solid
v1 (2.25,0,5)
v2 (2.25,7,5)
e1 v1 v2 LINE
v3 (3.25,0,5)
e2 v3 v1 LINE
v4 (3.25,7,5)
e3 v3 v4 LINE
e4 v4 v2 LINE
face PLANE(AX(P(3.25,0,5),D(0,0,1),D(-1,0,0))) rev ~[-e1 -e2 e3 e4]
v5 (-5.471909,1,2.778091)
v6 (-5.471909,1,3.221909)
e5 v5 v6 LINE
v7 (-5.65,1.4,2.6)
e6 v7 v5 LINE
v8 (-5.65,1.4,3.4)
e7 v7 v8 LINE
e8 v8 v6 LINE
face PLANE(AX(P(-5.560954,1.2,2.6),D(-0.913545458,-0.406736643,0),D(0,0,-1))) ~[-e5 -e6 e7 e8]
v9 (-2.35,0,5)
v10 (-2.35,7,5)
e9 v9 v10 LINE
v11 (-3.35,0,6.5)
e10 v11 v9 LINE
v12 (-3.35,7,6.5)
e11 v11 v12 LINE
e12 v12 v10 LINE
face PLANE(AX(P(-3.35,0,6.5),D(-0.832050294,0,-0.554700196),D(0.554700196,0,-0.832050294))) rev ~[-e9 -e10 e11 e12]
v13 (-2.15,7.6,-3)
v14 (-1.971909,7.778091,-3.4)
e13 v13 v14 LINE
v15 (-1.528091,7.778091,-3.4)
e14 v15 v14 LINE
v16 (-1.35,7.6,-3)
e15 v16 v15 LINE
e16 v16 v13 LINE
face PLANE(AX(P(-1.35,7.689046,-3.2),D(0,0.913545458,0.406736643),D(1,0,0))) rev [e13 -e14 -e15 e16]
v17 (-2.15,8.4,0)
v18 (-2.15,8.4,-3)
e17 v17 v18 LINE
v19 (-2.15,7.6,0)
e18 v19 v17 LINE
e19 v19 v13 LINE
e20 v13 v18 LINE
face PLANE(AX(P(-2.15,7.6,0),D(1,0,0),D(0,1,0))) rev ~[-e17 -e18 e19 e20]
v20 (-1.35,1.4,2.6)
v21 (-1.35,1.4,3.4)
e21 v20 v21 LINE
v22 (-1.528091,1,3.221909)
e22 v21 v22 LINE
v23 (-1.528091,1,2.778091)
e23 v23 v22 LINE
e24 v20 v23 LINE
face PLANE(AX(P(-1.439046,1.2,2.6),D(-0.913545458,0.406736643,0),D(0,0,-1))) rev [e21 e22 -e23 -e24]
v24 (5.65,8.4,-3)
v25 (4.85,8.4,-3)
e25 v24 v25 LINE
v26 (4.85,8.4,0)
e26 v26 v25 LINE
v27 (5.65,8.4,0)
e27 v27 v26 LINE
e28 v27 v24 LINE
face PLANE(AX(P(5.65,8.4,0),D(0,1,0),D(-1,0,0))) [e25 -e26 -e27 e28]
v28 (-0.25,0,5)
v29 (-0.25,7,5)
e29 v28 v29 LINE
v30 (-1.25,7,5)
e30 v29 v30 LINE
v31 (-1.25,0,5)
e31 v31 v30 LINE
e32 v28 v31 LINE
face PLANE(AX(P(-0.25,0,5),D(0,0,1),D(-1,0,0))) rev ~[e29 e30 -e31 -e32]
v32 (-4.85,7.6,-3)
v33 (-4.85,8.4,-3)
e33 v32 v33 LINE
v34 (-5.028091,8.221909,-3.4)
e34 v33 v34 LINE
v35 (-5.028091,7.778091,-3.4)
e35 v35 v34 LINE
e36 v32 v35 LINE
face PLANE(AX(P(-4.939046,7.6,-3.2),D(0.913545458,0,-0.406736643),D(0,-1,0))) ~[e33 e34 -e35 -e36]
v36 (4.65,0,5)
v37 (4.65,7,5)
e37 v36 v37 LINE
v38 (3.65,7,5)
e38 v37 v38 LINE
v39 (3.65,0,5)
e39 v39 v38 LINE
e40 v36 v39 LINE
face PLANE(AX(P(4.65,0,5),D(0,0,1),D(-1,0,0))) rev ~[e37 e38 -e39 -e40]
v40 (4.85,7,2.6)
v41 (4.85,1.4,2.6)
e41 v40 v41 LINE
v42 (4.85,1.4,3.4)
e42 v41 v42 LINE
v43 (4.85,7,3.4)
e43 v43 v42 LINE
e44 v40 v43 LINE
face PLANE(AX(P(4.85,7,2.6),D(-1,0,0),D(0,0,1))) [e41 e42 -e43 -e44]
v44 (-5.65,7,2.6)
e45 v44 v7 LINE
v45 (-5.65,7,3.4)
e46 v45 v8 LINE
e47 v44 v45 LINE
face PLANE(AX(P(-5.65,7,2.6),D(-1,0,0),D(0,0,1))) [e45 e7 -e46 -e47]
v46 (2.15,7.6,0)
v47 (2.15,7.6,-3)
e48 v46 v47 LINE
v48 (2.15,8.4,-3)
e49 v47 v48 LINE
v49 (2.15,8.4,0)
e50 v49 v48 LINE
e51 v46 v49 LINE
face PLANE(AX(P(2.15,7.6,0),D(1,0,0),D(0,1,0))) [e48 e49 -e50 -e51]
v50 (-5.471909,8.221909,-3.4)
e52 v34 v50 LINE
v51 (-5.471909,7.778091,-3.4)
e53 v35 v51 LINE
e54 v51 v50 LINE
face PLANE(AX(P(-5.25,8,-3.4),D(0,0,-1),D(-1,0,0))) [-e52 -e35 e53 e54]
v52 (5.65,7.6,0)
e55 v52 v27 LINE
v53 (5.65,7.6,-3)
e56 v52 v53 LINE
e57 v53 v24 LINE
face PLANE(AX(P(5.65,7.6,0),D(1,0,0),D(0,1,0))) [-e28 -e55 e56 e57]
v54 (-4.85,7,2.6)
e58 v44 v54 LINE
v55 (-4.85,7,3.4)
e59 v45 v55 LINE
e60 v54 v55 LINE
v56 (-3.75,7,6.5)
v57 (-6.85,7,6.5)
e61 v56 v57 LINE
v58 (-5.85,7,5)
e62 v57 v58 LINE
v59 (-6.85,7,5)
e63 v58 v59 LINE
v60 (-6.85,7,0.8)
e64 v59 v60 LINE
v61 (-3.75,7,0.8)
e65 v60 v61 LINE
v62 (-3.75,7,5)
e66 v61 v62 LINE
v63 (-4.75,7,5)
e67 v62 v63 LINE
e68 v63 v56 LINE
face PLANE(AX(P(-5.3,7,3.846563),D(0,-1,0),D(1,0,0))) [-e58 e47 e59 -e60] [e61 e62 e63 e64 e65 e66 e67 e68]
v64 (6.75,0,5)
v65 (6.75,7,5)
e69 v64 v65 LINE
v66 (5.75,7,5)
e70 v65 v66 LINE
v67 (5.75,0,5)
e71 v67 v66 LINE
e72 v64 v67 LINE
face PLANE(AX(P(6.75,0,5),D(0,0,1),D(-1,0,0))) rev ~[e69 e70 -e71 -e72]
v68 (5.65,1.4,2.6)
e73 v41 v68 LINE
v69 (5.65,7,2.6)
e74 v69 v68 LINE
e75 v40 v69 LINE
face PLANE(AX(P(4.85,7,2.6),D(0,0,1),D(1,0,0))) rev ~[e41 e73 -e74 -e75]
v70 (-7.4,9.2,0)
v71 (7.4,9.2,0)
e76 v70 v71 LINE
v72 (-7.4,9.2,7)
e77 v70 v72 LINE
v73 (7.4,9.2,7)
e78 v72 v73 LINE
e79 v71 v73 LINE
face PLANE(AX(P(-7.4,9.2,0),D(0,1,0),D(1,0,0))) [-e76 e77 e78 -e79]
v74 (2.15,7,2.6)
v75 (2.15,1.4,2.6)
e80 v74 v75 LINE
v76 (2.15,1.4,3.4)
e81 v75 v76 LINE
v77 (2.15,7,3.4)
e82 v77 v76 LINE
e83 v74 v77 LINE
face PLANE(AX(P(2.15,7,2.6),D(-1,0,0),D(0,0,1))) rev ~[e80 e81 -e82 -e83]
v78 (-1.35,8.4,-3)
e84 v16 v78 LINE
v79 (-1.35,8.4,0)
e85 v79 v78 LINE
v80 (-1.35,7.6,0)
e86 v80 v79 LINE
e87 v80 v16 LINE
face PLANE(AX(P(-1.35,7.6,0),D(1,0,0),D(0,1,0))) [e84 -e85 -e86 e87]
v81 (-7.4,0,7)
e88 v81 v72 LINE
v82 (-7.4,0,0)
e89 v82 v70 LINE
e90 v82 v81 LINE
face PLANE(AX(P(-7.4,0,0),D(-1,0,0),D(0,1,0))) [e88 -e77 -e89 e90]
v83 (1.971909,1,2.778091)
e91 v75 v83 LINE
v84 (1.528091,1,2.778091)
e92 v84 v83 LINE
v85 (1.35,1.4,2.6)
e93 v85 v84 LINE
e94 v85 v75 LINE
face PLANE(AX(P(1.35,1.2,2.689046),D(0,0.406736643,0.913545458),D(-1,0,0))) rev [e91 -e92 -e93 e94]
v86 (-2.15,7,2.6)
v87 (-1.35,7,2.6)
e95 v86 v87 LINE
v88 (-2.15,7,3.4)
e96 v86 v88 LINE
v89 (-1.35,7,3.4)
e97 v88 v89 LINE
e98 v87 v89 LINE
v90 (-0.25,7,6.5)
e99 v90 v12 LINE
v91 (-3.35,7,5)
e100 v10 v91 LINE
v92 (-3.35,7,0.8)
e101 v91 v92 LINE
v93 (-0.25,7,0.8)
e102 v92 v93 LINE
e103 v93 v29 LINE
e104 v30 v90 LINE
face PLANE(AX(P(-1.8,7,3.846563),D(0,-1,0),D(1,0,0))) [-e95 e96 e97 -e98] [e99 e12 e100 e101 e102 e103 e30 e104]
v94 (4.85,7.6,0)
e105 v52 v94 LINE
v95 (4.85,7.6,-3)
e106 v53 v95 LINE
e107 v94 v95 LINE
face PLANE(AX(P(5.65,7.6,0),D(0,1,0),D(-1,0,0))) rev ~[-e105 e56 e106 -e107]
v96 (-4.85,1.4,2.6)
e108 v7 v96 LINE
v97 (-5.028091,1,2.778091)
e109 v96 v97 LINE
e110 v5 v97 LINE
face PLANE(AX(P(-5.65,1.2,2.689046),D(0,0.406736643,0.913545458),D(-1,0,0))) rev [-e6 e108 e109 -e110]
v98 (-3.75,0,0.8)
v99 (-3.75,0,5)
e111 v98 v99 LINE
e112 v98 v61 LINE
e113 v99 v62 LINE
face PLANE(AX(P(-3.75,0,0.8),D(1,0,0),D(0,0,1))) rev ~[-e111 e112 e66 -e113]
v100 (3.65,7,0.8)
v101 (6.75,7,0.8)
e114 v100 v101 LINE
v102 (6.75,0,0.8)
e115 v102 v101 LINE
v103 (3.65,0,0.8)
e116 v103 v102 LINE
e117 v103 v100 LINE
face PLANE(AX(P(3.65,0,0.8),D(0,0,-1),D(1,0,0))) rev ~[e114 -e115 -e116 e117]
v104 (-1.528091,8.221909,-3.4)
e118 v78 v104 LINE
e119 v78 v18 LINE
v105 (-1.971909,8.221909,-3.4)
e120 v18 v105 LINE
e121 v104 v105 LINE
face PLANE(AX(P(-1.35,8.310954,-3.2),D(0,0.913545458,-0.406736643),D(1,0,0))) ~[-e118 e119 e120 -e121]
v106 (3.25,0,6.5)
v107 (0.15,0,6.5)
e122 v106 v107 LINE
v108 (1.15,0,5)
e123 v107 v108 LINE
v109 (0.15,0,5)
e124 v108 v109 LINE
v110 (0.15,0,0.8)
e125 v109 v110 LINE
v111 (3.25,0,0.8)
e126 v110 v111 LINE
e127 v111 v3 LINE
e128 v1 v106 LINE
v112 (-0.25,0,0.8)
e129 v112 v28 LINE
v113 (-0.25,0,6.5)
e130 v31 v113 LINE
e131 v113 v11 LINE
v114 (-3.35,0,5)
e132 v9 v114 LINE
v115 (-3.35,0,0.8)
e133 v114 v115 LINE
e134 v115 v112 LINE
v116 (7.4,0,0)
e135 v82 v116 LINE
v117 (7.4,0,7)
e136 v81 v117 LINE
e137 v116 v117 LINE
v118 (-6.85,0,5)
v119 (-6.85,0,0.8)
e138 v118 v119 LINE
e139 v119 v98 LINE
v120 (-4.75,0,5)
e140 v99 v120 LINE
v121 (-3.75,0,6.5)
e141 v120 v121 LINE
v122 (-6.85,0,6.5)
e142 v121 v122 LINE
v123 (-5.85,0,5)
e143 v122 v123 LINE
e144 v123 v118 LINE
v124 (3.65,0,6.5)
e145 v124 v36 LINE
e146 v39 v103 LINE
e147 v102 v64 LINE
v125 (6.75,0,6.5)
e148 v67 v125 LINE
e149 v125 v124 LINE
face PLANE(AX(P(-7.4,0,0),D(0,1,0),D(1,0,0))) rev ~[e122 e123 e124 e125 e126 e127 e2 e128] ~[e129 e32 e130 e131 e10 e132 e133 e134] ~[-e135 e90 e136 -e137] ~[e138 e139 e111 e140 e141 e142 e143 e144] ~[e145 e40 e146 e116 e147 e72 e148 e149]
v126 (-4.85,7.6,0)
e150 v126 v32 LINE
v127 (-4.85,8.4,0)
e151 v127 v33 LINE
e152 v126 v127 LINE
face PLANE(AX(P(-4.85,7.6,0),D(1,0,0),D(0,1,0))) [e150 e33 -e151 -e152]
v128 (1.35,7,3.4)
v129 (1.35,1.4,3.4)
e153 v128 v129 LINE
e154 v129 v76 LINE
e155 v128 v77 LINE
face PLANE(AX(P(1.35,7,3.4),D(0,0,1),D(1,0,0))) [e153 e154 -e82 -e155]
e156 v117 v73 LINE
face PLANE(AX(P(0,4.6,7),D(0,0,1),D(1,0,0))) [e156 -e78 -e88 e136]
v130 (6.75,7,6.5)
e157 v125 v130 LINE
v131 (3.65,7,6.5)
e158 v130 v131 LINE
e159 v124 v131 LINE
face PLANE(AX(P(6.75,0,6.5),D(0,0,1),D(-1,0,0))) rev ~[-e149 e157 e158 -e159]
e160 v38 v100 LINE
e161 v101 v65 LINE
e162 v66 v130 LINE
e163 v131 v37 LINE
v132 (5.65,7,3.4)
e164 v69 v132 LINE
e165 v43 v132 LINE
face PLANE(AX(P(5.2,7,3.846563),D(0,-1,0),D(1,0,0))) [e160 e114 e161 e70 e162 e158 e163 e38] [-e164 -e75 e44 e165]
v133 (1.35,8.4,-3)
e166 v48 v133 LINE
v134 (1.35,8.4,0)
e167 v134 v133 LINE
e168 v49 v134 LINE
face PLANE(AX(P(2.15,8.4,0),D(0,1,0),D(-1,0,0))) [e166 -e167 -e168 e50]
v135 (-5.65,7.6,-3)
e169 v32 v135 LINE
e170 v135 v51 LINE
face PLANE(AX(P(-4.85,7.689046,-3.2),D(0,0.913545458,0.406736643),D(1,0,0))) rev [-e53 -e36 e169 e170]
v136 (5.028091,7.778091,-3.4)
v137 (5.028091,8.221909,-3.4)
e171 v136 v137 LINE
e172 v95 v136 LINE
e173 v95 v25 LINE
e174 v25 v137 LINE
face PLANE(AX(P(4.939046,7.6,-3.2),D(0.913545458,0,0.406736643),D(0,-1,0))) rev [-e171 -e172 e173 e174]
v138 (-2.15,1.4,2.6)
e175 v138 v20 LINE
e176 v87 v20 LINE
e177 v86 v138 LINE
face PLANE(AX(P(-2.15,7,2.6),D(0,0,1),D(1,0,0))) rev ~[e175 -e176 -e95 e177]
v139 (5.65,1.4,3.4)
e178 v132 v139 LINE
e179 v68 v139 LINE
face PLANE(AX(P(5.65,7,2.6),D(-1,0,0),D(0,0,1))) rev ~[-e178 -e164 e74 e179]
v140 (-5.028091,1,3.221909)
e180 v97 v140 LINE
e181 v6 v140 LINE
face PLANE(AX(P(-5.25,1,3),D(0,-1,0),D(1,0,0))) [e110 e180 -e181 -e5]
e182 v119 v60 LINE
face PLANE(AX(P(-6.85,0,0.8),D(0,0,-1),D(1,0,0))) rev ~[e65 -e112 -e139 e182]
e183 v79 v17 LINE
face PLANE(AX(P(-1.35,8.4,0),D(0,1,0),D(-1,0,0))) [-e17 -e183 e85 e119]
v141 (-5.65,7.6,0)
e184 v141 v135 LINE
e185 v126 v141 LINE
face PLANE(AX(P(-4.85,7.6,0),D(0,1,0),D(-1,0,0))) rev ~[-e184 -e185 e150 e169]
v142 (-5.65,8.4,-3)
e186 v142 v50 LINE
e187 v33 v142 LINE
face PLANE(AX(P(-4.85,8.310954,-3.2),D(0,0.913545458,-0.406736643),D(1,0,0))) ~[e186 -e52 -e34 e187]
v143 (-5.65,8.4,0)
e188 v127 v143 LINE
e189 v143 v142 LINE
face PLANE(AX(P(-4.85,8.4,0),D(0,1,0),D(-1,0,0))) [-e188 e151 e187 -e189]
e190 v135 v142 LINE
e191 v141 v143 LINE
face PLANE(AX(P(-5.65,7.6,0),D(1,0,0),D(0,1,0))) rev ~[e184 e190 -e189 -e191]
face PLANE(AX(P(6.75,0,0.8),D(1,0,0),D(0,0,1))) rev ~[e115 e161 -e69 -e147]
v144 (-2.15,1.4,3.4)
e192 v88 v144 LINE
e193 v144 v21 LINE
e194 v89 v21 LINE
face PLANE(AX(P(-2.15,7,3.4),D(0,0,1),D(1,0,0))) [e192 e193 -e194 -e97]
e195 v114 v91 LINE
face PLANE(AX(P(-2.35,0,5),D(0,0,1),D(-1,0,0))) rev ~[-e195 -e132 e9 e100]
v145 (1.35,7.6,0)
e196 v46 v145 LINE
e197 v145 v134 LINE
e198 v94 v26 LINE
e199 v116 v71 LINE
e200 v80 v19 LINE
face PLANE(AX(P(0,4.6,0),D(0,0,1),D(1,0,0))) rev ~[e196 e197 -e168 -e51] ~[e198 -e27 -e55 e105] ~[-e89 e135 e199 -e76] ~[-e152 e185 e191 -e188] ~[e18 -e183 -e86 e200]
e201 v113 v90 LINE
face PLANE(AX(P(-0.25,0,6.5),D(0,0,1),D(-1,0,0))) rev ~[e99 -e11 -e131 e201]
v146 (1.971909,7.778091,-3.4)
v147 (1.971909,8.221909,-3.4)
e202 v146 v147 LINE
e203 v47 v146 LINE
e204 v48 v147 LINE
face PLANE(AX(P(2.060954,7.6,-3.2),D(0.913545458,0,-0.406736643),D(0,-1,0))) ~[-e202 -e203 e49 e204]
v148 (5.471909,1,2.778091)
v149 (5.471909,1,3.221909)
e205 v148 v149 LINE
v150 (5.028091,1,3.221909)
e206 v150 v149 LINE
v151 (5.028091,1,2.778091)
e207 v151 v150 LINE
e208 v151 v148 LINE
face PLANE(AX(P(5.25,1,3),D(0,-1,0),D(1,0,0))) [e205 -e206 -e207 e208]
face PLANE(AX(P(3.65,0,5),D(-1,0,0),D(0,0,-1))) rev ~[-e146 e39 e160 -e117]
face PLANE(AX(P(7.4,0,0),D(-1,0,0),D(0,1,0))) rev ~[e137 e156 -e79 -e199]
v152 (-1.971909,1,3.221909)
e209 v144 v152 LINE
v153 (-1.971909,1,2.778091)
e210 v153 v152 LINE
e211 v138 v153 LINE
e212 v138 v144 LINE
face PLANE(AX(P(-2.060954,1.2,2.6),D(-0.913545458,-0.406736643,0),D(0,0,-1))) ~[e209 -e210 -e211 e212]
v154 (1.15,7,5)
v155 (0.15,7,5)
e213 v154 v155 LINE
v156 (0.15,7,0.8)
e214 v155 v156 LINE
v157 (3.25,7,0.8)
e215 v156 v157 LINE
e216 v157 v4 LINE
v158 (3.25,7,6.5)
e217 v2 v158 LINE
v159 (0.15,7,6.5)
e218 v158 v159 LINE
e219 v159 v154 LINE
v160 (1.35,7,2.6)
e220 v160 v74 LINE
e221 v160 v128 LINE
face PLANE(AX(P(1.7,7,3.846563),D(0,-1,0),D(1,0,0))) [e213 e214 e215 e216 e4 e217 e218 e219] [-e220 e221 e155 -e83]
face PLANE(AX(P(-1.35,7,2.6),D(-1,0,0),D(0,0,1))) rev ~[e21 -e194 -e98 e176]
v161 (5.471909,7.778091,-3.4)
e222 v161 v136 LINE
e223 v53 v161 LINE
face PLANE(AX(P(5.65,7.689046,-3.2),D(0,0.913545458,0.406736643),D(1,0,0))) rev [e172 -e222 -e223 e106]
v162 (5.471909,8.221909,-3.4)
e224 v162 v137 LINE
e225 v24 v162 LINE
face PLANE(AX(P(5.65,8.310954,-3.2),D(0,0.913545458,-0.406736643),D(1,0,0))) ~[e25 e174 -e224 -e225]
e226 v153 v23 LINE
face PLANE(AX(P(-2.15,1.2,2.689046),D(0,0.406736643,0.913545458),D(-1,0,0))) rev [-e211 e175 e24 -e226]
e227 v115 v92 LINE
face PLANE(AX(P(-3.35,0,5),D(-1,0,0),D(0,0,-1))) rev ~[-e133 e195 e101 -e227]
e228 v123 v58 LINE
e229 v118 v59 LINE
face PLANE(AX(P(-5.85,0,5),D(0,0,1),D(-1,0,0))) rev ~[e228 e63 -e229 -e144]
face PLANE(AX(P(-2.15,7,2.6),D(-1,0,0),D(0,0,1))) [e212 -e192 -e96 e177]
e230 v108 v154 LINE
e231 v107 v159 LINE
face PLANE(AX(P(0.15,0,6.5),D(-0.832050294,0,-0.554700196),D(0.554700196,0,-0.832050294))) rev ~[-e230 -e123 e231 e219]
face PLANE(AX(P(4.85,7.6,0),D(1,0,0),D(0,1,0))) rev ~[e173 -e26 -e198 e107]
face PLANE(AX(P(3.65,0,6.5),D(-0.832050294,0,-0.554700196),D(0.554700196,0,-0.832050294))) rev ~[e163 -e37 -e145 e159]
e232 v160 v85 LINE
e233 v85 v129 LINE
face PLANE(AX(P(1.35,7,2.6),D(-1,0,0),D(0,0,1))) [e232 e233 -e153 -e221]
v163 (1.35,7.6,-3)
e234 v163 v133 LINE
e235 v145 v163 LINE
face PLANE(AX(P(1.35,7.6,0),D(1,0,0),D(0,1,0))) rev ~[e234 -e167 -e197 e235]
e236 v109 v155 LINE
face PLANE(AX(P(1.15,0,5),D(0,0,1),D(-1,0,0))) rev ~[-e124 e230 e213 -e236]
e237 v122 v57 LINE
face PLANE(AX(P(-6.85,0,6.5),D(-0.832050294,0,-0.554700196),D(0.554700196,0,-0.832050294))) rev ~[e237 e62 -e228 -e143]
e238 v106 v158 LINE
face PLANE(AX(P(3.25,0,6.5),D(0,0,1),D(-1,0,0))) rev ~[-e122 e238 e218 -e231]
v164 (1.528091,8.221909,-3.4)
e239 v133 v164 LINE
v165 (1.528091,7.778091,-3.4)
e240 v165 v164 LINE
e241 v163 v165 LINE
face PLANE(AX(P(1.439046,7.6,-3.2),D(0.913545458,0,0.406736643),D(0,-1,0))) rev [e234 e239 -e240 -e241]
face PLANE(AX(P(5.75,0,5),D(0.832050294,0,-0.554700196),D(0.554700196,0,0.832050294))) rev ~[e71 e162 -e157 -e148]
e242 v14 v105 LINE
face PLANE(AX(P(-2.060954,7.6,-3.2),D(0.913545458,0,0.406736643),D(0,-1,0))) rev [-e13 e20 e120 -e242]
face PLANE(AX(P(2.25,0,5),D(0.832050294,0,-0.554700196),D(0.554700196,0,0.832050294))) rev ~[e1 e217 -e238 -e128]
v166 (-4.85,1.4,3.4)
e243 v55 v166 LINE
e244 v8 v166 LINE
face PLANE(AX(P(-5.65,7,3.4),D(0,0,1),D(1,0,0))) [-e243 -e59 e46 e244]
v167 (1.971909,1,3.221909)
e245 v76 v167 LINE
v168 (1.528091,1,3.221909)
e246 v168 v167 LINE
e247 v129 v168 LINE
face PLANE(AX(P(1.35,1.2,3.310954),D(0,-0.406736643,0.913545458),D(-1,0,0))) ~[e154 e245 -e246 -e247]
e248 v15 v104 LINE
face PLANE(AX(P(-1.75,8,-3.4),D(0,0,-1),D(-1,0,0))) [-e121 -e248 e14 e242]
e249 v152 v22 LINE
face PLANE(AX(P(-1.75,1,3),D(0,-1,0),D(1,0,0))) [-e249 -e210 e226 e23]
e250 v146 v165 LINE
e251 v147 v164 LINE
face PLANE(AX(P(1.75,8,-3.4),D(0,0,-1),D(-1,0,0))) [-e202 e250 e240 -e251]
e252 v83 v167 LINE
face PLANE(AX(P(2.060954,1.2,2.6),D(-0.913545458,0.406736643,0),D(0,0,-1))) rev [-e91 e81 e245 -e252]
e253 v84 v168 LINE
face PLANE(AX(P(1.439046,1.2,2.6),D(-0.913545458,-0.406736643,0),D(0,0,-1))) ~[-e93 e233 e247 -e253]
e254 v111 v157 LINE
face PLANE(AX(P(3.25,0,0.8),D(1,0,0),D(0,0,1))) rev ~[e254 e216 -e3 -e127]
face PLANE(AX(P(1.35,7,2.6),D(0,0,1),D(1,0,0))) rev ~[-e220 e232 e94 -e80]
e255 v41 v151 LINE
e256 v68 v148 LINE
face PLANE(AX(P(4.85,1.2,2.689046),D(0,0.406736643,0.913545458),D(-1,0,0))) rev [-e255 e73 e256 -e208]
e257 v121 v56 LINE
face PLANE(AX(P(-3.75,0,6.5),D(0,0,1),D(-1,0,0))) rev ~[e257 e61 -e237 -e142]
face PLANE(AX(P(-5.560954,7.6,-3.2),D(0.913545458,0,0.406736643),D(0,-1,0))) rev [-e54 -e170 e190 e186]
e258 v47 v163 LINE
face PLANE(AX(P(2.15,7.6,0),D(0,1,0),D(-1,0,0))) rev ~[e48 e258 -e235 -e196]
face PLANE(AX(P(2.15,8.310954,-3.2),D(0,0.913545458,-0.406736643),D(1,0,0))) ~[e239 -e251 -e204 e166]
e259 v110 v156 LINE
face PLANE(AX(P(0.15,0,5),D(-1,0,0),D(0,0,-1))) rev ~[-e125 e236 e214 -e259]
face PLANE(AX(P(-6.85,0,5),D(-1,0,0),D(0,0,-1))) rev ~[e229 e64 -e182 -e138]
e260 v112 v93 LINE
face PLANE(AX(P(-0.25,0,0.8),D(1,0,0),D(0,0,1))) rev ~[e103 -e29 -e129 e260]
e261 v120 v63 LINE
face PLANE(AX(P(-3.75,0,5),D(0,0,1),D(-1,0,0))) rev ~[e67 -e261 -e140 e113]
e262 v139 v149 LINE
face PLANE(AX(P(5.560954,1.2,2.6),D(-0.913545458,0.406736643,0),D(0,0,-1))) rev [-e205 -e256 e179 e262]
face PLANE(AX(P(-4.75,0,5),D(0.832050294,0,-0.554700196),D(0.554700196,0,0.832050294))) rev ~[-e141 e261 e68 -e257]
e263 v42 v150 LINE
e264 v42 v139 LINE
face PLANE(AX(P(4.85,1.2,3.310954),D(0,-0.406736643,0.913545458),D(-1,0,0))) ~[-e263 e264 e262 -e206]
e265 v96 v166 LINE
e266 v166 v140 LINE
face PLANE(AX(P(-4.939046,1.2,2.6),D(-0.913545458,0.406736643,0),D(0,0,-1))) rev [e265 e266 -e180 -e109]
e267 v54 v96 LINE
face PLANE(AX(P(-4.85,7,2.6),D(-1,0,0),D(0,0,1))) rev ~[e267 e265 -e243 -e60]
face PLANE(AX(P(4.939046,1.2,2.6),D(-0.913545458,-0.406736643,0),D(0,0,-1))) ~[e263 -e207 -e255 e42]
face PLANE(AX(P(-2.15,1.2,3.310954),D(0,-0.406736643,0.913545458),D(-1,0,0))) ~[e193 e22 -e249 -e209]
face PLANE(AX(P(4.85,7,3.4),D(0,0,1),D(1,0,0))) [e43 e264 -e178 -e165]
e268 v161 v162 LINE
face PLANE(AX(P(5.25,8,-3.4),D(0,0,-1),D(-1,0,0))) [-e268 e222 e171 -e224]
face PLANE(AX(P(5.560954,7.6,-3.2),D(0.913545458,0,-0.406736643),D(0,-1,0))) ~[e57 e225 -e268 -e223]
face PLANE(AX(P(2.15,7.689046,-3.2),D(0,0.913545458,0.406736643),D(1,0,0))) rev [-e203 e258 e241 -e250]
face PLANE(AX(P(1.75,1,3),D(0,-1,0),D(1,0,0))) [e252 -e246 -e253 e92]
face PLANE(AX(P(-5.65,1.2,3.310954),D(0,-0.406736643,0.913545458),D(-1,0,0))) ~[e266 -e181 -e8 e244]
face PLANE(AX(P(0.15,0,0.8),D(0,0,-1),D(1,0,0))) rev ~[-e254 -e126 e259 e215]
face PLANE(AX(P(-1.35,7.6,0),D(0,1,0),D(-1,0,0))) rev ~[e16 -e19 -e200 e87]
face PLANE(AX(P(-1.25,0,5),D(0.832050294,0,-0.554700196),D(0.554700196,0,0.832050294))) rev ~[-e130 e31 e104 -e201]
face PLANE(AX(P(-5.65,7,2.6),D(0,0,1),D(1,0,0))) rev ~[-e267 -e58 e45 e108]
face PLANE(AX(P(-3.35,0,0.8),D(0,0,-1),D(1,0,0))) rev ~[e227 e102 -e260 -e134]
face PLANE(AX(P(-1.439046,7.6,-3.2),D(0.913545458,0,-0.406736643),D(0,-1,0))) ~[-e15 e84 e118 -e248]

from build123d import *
from OCP.BRepFilletAPI import BRepFilletAPI_MakeChamfer

# Parameters (mm, degrees)
SKETCH_1_W                          = 14.8
SKETCH_1_H                          = 9.2
EXTRUDE_1_DEPTH                     = 7
SKETCH_2_W                          = 0.8
SKETCH_2_H                          = 0.8
EXTRUDE_2_DEPTH                     = 3.4
CHAMFER_1_SIZE                      = 0.4
CHAMFER_1_SIZE2                     = 0.178091474
CUT_EXTRUDE_1_DEPTH                 = 7
PATTERN_LINEAR_1_COUNT              = 4
PATTERN_LINEAR_1_PITCH              = 3.5
CHAMFER_1_OF_PATTERN_LINEAR_1_SIZE  = 0.4
CHAMFER_1_OF_PATTERN_LINEAR_1_SIZE2 = 0.178091474
PATTERN_LINEAR_2_COUNT              = 4
PATTERN_LINEAR_2_PITCH              = 3.5
SKETCH_4_W                          = 0.8
SKETCH_4_H                          = 0.8
EXTRUDE_3_DEPTH                     = 6
CHAMFER_2_SIZE                      = 0.4
CHAMFER_2_SIZE2                     = 0.178091474
PATTERN_LINEAR_3_COUNT              = 4
PATTERN_LINEAR_3_PITCH              = 3.5
CHAMFER_2_OF_PATTERN_LINEAR_3_SIZE  = 0.4
CHAMFER_2_OF_PATTERN_LINEAR_3_SIZE2 = 0.178091474


with BuildPart() as part:
    # Эскиз1 → Бобышка-Вытянуть1 (new body)
    with BuildSketch(Plane.XY):
        with Locations((0, 4.6)):
            Rectangle(SKETCH_1_W, SKETCH_1_H)
    extrude(amount=EXTRUDE_1_DEPTH)

    # Эскиз2 → Бобышка-Вытянуть2 (add)
    with BuildSketch(Plane(origin=(0, 0, 0), x_dir=(-1, 0, 0), z_dir=(0, 0, -1))):
        with Locations((-5.25, 8)):
            Rectangle(SKETCH_2_W, SKETCH_2_H)
    extrude_2 = extrude(amount=EXTRUDE_2_DEPTH)

    # Фаска1: one chamfer whose edges measure the first distance from different faces: ONE call of the kernel's chamfer builder (chamfer() names one face for all edges)
    chamfer_1_edges_1 = [part.edges().sort_by_distance(p)[0] for p in [
        (4.85, 8, -3.4),
    ]]
    chamfer_1_side_1 = [part.faces().sort_by_distance(p)[0] for p in [
        (4.85, 8, -1.7),
    ]]
    chamfer_1_edges_2 = [part.edges().sort_by_distance(p)[0] for p in [
        (5.25, 8.4, -3.4),
    ]]
    chamfer_1_side_2 = [part.faces().sort_by_distance(p)[0] for p in [
        (5.25, 8.4, -1.7),
    ]]
    chamfer_1_edges_3 = [part.edges().sort_by_distance(p)[0] for p in [
        (5.65, 8, -3.4),
    ]]
    chamfer_1_side_3 = [part.faces().sort_by_distance(p)[0] for p in [
        (5.65, 8, -1.7),
    ]]
    chamfer_1_edges_4 = [part.edges().sort_by_distance(p)[0] for p in [
        (5.25, 7.6, -3.4),
    ]]
    chamfer_1_side_4 = [part.faces().sort_by_distance(p)[0] for p in [
        (5.25, 7.6, -1.7),
    ]]
    chamfer_1 = BRepFilletAPI_MakeChamfer(part.part.solid().wrapped)
    for e in chamfer_1_edges_1:
        chamfer_1.Add(CHAMFER_1_SIZE, CHAMFER_1_SIZE2, e.wrapped, chamfer_1_side_1[0].wrapped)  # the first distance lies on this face
    for e in chamfer_1_edges_2:
        chamfer_1.Add(CHAMFER_1_SIZE, CHAMFER_1_SIZE2, e.wrapped, chamfer_1_side_2[0].wrapped)  # the first distance lies on this face
    for e in chamfer_1_edges_3:
        chamfer_1.Add(CHAMFER_1_SIZE, CHAMFER_1_SIZE2, e.wrapped, chamfer_1_side_3[0].wrapped)  # the first distance lies on this face
    for e in chamfer_1_edges_4:
        chamfer_1.Add(CHAMFER_1_SIZE, CHAMFER_1_SIZE2, e.wrapped, chamfer_1_side_4[0].wrapped)  # the first distance lies on this face
    add(Compound.cast(chamfer_1.Shape()), mode=Mode.REPLACE)

    # Эскиз3 → Вырез-Вытянуть1 (cut)
    with BuildSketch(Plane.XZ):
        Polygon((3.65, 0.8), (6.75, 0.8), (6.75, 5), (5.75, 5), (6.75, 6.5), (3.65, 6.5), (4.65, 5), (3.65, 5), align=None)
    cut_extrude_1 = extrude(amount=-CUT_EXTRUDE_1_DEPTH, mode=Mode.SUBTRACT)

    # Линейный массив1: Бобышка-Вытянуть2 ×4
    with Locations(*[(-i * PATTERN_LINEAR_1_PITCH, 0, 0) for i in range(1, PATTERN_LINEAR_1_COUNT)]):
        add(extrude_2)

    # Фаска1 of Линейный массив1: one chamfer whose edges measure the first distance from different faces: ONE call of the kernel's chamfer builder (chamfer() names one face for all edges)
    chamfer_1_of_pattern_linear_1_edges_1 = [part.edges().sort_by_distance(p)[0] for p in [
        (1.35, 8, -3.4),
    ]]
    chamfer_1_of_pattern_linear_1_side_1 = [part.faces().sort_by_distance(p)[0] for p in [
        (1.35, 8, -1.7),
    ]]
    chamfer_1_of_pattern_linear_1_edges_2 = [part.edges().sort_by_distance(p)[0] for p in [
        (1.75, 8.4, -3.4),
    ]]
    chamfer_1_of_pattern_linear_1_side_2 = [part.faces().sort_by_distance(p)[0] for p in [
        (1.75, 8.4, -1.7),
    ]]
    chamfer_1_of_pattern_linear_1_edges_3 = [part.edges().sort_by_distance(p)[0] for p in [
        (2.15, 8, -3.4),
    ]]
    chamfer_1_of_pattern_linear_1_side_3 = [part.faces().sort_by_distance(p)[0] for p in [
        (2.15, 8, -1.7),
    ]]
    chamfer_1_of_pattern_linear_1_edges_4 = [part.edges().sort_by_distance(p)[0] for p in [
        (1.75, 7.6, -3.4),
    ]]
    chamfer_1_of_pattern_linear_1_side_4 = [part.faces().sort_by_distance(p)[0] for p in [
        (1.75, 7.6, -1.7),
    ]]
    chamfer_1_of_pattern_linear_1_edges_5 = [part.edges().sort_by_distance(p)[0] for p in [
        (-2.15, 8, -3.4),
    ]]
    chamfer_1_of_pattern_linear_1_side_5 = [part.faces().sort_by_distance(p)[0] for p in [
        (-2.15, 8, -1.7),
    ]]
    chamfer_1_of_pattern_linear_1_edges_6 = [part.edges().sort_by_distance(p)[0] for p in [
        (-1.75, 8.4, -3.4),
    ]]
    chamfer_1_of_pattern_linear_1_side_6 = [part.faces().sort_by_distance(p)[0] for p in [
        (-1.75, 8.4, -1.7),
    ]]
    chamfer_1_of_pattern_linear_1_edges_7 = [part.edges().sort_by_distance(p)[0] for p in [
        (-1.35, 8, -3.4),
    ]]
    chamfer_1_of_pattern_linear_1_side_7 = [part.faces().sort_by_distance(p)[0] for p in [
        (-1.35, 8, -1.7),
    ]]
    chamfer_1_of_pattern_linear_1_edges_8 = [part.edges().sort_by_distance(p)[0] for p in [
        (-1.75, 7.6, -3.4),
    ]]
    chamfer_1_of_pattern_linear_1_side_8 = [part.faces().sort_by_distance(p)[0] for p in [
        (-1.75, 7.6, -1.7),
    ]]
    chamfer_1_of_pattern_linear_1_edges_9 = [part.edges().sort_by_distance(p)[0] for p in [
        (-5.65, 8, -3.4),
    ]]
    chamfer_1_of_pattern_linear_1_side_9 = [part.faces().sort_by_distance(p)[0] for p in [
        (-5.65, 8, -1.7),
    ]]
    chamfer_1_of_pattern_linear_1_edges_10 = [part.edges().sort_by_distance(p)[0] for p in [
        (-5.25, 8.4, -3.4),
    ]]
    chamfer_1_of_pattern_linear_1_side_10 = [part.faces().sort_by_distance(p)[0] for p in [
        (-5.25, 8.4, -1.7),
    ]]
    chamfer_1_of_pattern_linear_1_edges_11 = [part.edges().sort_by_distance(p)[0] for p in [
        (-4.85, 8, -3.4),
    ]]
    chamfer_1_of_pattern_linear_1_side_11 = [part.faces().sort_by_distance(p)[0] for p in [
        (-4.85, 8, -1.7),
    ]]
    chamfer_1_of_pattern_linear_1_edges_12 = [part.edges().sort_by_distance(p)[0] for p in [
        (-5.25, 7.6, -3.4),
    ]]
    chamfer_1_of_pattern_linear_1_side_12 = [part.faces().sort_by_distance(p)[0] for p in [
        (-5.25, 7.6, -1.7),
    ]]
    chamfer_1_of_pattern_linear_1 = BRepFilletAPI_MakeChamfer(part.part.solid().wrapped)
    for e in chamfer_1_of_pattern_linear_1_edges_1:
        chamfer_1_of_pattern_linear_1.Add(CHAMFER_1_OF_PATTERN_LINEAR_1_SIZE, CHAMFER_1_OF_PATTERN_LINEAR_1_SIZE2, e.wrapped, chamfer_1_of_pattern_linear_1_side_1[0].wrapped)  # the first distance lies on this face
    for e in chamfer_1_of_pattern_linear_1_edges_2:
        chamfer_1_of_pattern_linear_1.Add(CHAMFER_1_OF_PATTERN_LINEAR_1_SIZE, CHAMFER_1_OF_PATTERN_LINEAR_1_SIZE2, e.wrapped, chamfer_1_of_pattern_linear_1_side_2[0].wrapped)  # the first distance lies on this face
    for e in chamfer_1_of_pattern_linear_1_edges_3:
        chamfer_1_of_pattern_linear_1.Add(CHAMFER_1_OF_PATTERN_LINEAR_1_SIZE, CHAMFER_1_OF_PATTERN_LINEAR_1_SIZE2, e.wrapped, chamfer_1_of_pattern_linear_1_side_3[0].wrapped)  # the first distance lies on this face
    for e in chamfer_1_of_pattern_linear_1_edges_4:
        chamfer_1_of_pattern_linear_1.Add(CHAMFER_1_OF_PATTERN_LINEAR_1_SIZE, CHAMFER_1_OF_PATTERN_LINEAR_1_SIZE2, e.wrapped, chamfer_1_of_pattern_linear_1_side_4[0].wrapped)  # the first distance lies on this face
    for e in chamfer_1_of_pattern_linear_1_edges_5:
        chamfer_1_of_pattern_linear_1.Add(CHAMFER_1_OF_PATTERN_LINEAR_1_SIZE, CHAMFER_1_OF_PATTERN_LINEAR_1_SIZE2, e.wrapped, chamfer_1_of_pattern_linear_1_side_5[0].wrapped)  # the first distance lies on this face
    for e in chamfer_1_of_pattern_linear_1_edges_6:
        chamfer_1_of_pattern_linear_1.Add(CHAMFER_1_OF_PATTERN_LINEAR_1_SIZE, CHAMFER_1_OF_PATTERN_LINEAR_1_SIZE2, e.wrapped, chamfer_1_of_pattern_linear_1_side_6[0].wrapped)  # the first distance lies on this face
    for e in chamfer_1_of_pattern_linear_1_edges_7:
        chamfer_1_of_pattern_linear_1.Add(CHAMFER_1_OF_PATTERN_LINEAR_1_SIZE, CHAMFER_1_OF_PATTERN_LINEAR_1_SIZE2, e.wrapped, chamfer_1_of_pattern_linear_1_side_7[0].wrapped)  # the first distance lies on this face
    for e in chamfer_1_of_pattern_linear_1_edges_8:
        chamfer_1_of_pattern_linear_1.Add(CHAMFER_1_OF_PATTERN_LINEAR_1_SIZE, CHAMFER_1_OF_PATTERN_LINEAR_1_SIZE2, e.wrapped, chamfer_1_of_pattern_linear_1_side_8[0].wrapped)  # the first distance lies on this face
    for e in chamfer_1_of_pattern_linear_1_edges_9:
        chamfer_1_of_pattern_linear_1.Add(CHAMFER_1_OF_PATTERN_LINEAR_1_SIZE, CHAMFER_1_OF_PATTERN_LINEAR_1_SIZE2, e.wrapped, chamfer_1_of_pattern_linear_1_side_9[0].wrapped)  # the first distance lies on this face
    for e in chamfer_1_of_pattern_linear_1_edges_10:
        chamfer_1_of_pattern_linear_1.Add(CHAMFER_1_OF_PATTERN_LINEAR_1_SIZE, CHAMFER_1_OF_PATTERN_LINEAR_1_SIZE2, e.wrapped, chamfer_1_of_pattern_linear_1_side_10[0].wrapped)  # the first distance lies on this face
    for e in chamfer_1_of_pattern_linear_1_edges_11:
        chamfer_1_of_pattern_linear_1.Add(CHAMFER_1_OF_PATTERN_LINEAR_1_SIZE, CHAMFER_1_OF_PATTERN_LINEAR_1_SIZE2, e.wrapped, chamfer_1_of_pattern_linear_1_side_11[0].wrapped)  # the first distance lies on this face
    for e in chamfer_1_of_pattern_linear_1_edges_12:
        chamfer_1_of_pattern_linear_1.Add(CHAMFER_1_OF_PATTERN_LINEAR_1_SIZE, CHAMFER_1_OF_PATTERN_LINEAR_1_SIZE2, e.wrapped, chamfer_1_of_pattern_linear_1_side_12[0].wrapped)  # the first distance lies on this face
    add(Compound.cast(chamfer_1_of_pattern_linear_1.Shape()), mode=Mode.REPLACE)

    # Линейный массив2: Вырез-Вытянуть1 ×4
    with Locations(*[(-i * PATTERN_LINEAR_2_PITCH, 0, 0) for i in range(1, PATTERN_LINEAR_2_COUNT)]):
        add(cut_extrude_1, mode=Mode.SUBTRACT)

    # Эскиз4 → Бобышка-Вытянуть3 (add)
    with BuildSketch(Plane.XZ.offset(-7)):
        with Locations((5.25, 3)):
            Rectangle(SKETCH_4_W, SKETCH_4_H)
    extrude_3 = extrude(amount=EXTRUDE_3_DEPTH)

    # Фаска2: one chamfer whose edges measure the first distance from different faces: ONE call of the kernel's chamfer builder (chamfer() names one face for all edges)
    chamfer_2_edges_1 = [part.edges().sort_by_distance(p)[0] for p in [
        (5.65, 1, 3),
    ]]
    chamfer_2_side_1 = [part.faces().sort_by_distance(p)[0] for p in [
        (5.65, 4, 3),
    ]]
    chamfer_2_edges_2 = [part.edges().sort_by_distance(p)[0] for p in [
        (5.25, 1, 3.4),
    ]]
    chamfer_2_side_2 = [part.faces().sort_by_distance(p)[0] for p in [
        (5.25, 4, 3.4),
    ]]
    chamfer_2_edges_3 = [part.edges().sort_by_distance(p)[0] for p in [
        (4.85, 1, 3),
    ]]
    chamfer_2_side_3 = [part.faces().sort_by_distance(p)[0] for p in [
        (4.85, 4, 3),
    ]]
    chamfer_2_edges_4 = [part.edges().sort_by_distance(p)[0] for p in [
        (5.25, 1, 2.6),
    ]]
    chamfer_2_side_4 = [part.faces().sort_by_distance(p)[0] for p in [
        (5.25, 4, 2.6),
    ]]
    chamfer_2 = BRepFilletAPI_MakeChamfer(part.part.solid().wrapped)
    for e in chamfer_2_edges_1:
        chamfer_2.Add(CHAMFER_2_SIZE, CHAMFER_2_SIZE2, e.wrapped, chamfer_2_side_1[0].wrapped)  # the first distance lies on this face
    for e in chamfer_2_edges_2:
        chamfer_2.Add(CHAMFER_2_SIZE, CHAMFER_2_SIZE2, e.wrapped, chamfer_2_side_2[0].wrapped)  # the first distance lies on this face
    for e in chamfer_2_edges_3:
        chamfer_2.Add(CHAMFER_2_SIZE, CHAMFER_2_SIZE2, e.wrapped, chamfer_2_side_3[0].wrapped)  # the first distance lies on this face
    for e in chamfer_2_edges_4:
        chamfer_2.Add(CHAMFER_2_SIZE, CHAMFER_2_SIZE2, e.wrapped, chamfer_2_side_4[0].wrapped)  # the first distance lies on this face
    add(Compound.cast(chamfer_2.Shape()), mode=Mode.REPLACE)

    # Линейный массив3: Бобышка-Вытянуть3 ×4
    with Locations(*[(-i * PATTERN_LINEAR_3_PITCH, 0, 0) for i in range(1, PATTERN_LINEAR_3_COUNT)]):
        add(extrude_3)

    # Фаска2 of Линейный массив3: one chamfer whose edges measure the first distance from different faces: ONE call of the kernel's chamfer builder (chamfer() names one face for all edges)
    chamfer_2_of_pattern_linear_3_edges_1 = [part.edges().sort_by_distance(p)[0] for p in [
        (2.15, 1, 3),
    ]]
    chamfer_2_of_pattern_linear_3_side_1 = [part.faces().sort_by_distance(p)[0] for p in [
        (2.15, 4, 3),
    ]]
    chamfer_2_of_pattern_linear_3_edges_2 = [part.edges().sort_by_distance(p)[0] for p in [
        (1.75, 1, 3.4),
    ]]
    chamfer_2_of_pattern_linear_3_side_2 = [part.faces().sort_by_distance(p)[0] for p in [
        (1.75, 4, 3.4),
    ]]
    chamfer_2_of_pattern_linear_3_edges_3 = [part.edges().sort_by_distance(p)[0] for p in [
        (1.35, 1, 3),
    ]]
    chamfer_2_of_pattern_linear_3_side_3 = [part.faces().sort_by_distance(p)[0] for p in [
        (1.35, 4, 3),
    ]]
    chamfer_2_of_pattern_linear_3_edges_4 = [part.edges().sort_by_distance(p)[0] for p in [
        (1.75, 1, 2.6),
    ]]
    chamfer_2_of_pattern_linear_3_side_4 = [part.faces().sort_by_distance(p)[0] for p in [
        (1.75, 4, 2.6),
    ]]
    chamfer_2_of_pattern_linear_3_edges_5 = [part.edges().sort_by_distance(p)[0] for p in [
        (-1.35, 1, 3),
    ]]
    chamfer_2_of_pattern_linear_3_side_5 = [part.faces().sort_by_distance(p)[0] for p in [
        (-1.35, 4, 3),
    ]]
    chamfer_2_of_pattern_linear_3_edges_6 = [part.edges().sort_by_distance(p)[0] for p in [
        (-1.75, 1, 3.4),
    ]]
    chamfer_2_of_pattern_linear_3_side_6 = [part.faces().sort_by_distance(p)[0] for p in [
        (-1.75, 4, 3.4),
    ]]
    chamfer_2_of_pattern_linear_3_edges_7 = [part.edges().sort_by_distance(p)[0] for p in [
        (-2.15, 1, 3),
    ]]
    chamfer_2_of_pattern_linear_3_side_7 = [part.faces().sort_by_distance(p)[0] for p in [
        (-2.15, 4, 3),
    ]]
    chamfer_2_of_pattern_linear_3_edges_8 = [part.edges().sort_by_distance(p)[0] for p in [
        (-1.75, 1, 2.6),
    ]]
    chamfer_2_of_pattern_linear_3_side_8 = [part.faces().sort_by_distance(p)[0] for p in [
        (-1.75, 4, 2.6),
    ]]
    chamfer_2_of_pattern_linear_3_edges_9 = [part.edges().sort_by_distance(p)[0] for p in [
        (-4.85, 1, 3),
    ]]
    chamfer_2_of_pattern_linear_3_side_9 = [part.faces().sort_by_distance(p)[0] for p in [
        (-4.85, 4, 3),
    ]]
    chamfer_2_of_pattern_linear_3_edges_10 = [part.edges().sort_by_distance(p)[0] for p in [
        (-5.25, 1, 3.4),
    ]]
    chamfer_2_of_pattern_linear_3_side_10 = [part.faces().sort_by_distance(p)[0] for p in [
        (-5.25, 4, 3.4),
    ]]
    chamfer_2_of_pattern_linear_3_edges_11 = [part.edges().sort_by_distance(p)[0] for p in [
        (-5.65, 1, 3),
    ]]
    chamfer_2_of_pattern_linear_3_side_11 = [part.faces().sort_by_distance(p)[0] for p in [
        (-5.65, 4, 3),
    ]]
    chamfer_2_of_pattern_linear_3_edges_12 = [part.edges().sort_by_distance(p)[0] for p in [
        (-5.25, 1, 2.6),
    ]]
    chamfer_2_of_pattern_linear_3_side_12 = [part.faces().sort_by_distance(p)[0] for p in [
        (-5.25, 4, 2.6),
    ]]
    chamfer_2_of_pattern_linear_3 = BRepFilletAPI_MakeChamfer(part.part.solid().wrapped)
    for e in chamfer_2_of_pattern_linear_3_edges_1:
        chamfer_2_of_pattern_linear_3.Add(CHAMFER_2_OF_PATTERN_LINEAR_3_SIZE, CHAMFER_2_OF_PATTERN_LINEAR_3_SIZE2, e.wrapped, chamfer_2_of_pattern_linear_3_side_1[0].wrapped)  # the first distance lies on this face
    for e in chamfer_2_of_pattern_linear_3_edges_2:
        chamfer_2_of_pattern_linear_3.Add(CHAMFER_2_OF_PATTERN_LINEAR_3_SIZE, CHAMFER_2_OF_PATTERN_LINEAR_3_SIZE2, e.wrapped, chamfer_2_of_pattern_linear_3_side_2[0].wrapped)  # the first distance lies on this face
    for e in chamfer_2_of_pattern_linear_3_edges_3:
        chamfer_2_of_pattern_linear_3.Add(CHAMFER_2_OF_PATTERN_LINEAR_3_SIZE, CHAMFER_2_OF_PATTERN_LINEAR_3_SIZE2, e.wrapped, chamfer_2_of_pattern_linear_3_side_3[0].wrapped)  # the first distance lies on this face
    for e in chamfer_2_of_pattern_linear_3_edges_4:
        chamfer_2_of_pattern_linear_3.Add(CHAMFER_2_OF_PATTERN_LINEAR_3_SIZE, CHAMFER_2_OF_PATTERN_LINEAR_3_SIZE2, e.wrapped, chamfer_2_of_pattern_linear_3_side_4[0].wrapped)  # the first distance lies on this face
    for e in chamfer_2_of_pattern_linear_3_edges_5:
        chamfer_2_of_pattern_linear_3.Add(CHAMFER_2_OF_PATTERN_LINEAR_3_SIZE, CHAMFER_2_OF_PATTERN_LINEAR_3_SIZE2, e.wrapped, chamfer_2_of_pattern_linear_3_side_5[0].wrapped)  # the first distance lies on this face
    for e in chamfer_2_of_pattern_linear_3_edges_6:
        chamfer_2_of_pattern_linear_3.Add(CHAMFER_2_OF_PATTERN_LINEAR_3_SIZE, CHAMFER_2_OF_PATTERN_LINEAR_3_SIZE2, e.wrapped, chamfer_2_of_pattern_linear_3_side_6[0].wrapped)  # the first distance lies on this face
    for e in chamfer_2_of_pattern_linear_3_edges_7:
        chamfer_2_of_pattern_linear_3.Add(CHAMFER_2_OF_PATTERN_LINEAR_3_SIZE, CHAMFER_2_OF_PATTERN_LINEAR_3_SIZE2, e.wrapped, chamfer_2_of_pattern_linear_3_side_7[0].wrapped)  # the first distance lies on this face
    for e in chamfer_2_of_pattern_linear_3_edges_8:
        chamfer_2_of_pattern_linear_3.Add(CHAMFER_2_OF_PATTERN_LINEAR_3_SIZE, CHAMFER_2_OF_PATTERN_LINEAR_3_SIZE2, e.wrapped, chamfer_2_of_pattern_linear_3_side_8[0].wrapped)  # the first distance lies on this face
    for e in chamfer_2_of_pattern_linear_3_edges_9:
        chamfer_2_of_pattern_linear_3.Add(CHAMFER_2_OF_PATTERN_LINEAR_3_SIZE, CHAMFER_2_OF_PATTERN_LINEAR_3_SIZE2, e.wrapped, chamfer_2_of_pattern_linear_3_side_9[0].wrapped)  # the first distance lies on this face
    for e in chamfer_2_of_pattern_linear_3_edges_10:
        chamfer_2_of_pattern_linear_3.Add(CHAMFER_2_OF_PATTERN_LINEAR_3_SIZE, CHAMFER_2_OF_PATTERN_LINEAR_3_SIZE2, e.wrapped, chamfer_2_of_pattern_linear_3_side_10[0].wrapped)  # the first distance lies on this face
    for e in chamfer_2_of_pattern_linear_3_edges_11:
        chamfer_2_of_pattern_linear_3.Add(CHAMFER_2_OF_PATTERN_LINEAR_3_SIZE, CHAMFER_2_OF_PATTERN_LINEAR_3_SIZE2, e.wrapped, chamfer_2_of_pattern_linear_3_side_11[0].wrapped)  # the first distance lies on this face
    for e in chamfer_2_of_pattern_linear_3_edges_12:
        chamfer_2_of_pattern_linear_3.Add(CHAMFER_2_OF_PATTERN_LINEAR_3_SIZE, CHAMFER_2_OF_PATTERN_LINEAR_3_SIZE2, e.wrapped, chamfer_2_of_pattern_linear_3_side_12[0].wrapped)  # the first distance lies on this face
    add(Compound.cast(chamfer_2_of_pattern_linear_3.Shape()), mode=Mode.REPLACE)


solid = part.part
